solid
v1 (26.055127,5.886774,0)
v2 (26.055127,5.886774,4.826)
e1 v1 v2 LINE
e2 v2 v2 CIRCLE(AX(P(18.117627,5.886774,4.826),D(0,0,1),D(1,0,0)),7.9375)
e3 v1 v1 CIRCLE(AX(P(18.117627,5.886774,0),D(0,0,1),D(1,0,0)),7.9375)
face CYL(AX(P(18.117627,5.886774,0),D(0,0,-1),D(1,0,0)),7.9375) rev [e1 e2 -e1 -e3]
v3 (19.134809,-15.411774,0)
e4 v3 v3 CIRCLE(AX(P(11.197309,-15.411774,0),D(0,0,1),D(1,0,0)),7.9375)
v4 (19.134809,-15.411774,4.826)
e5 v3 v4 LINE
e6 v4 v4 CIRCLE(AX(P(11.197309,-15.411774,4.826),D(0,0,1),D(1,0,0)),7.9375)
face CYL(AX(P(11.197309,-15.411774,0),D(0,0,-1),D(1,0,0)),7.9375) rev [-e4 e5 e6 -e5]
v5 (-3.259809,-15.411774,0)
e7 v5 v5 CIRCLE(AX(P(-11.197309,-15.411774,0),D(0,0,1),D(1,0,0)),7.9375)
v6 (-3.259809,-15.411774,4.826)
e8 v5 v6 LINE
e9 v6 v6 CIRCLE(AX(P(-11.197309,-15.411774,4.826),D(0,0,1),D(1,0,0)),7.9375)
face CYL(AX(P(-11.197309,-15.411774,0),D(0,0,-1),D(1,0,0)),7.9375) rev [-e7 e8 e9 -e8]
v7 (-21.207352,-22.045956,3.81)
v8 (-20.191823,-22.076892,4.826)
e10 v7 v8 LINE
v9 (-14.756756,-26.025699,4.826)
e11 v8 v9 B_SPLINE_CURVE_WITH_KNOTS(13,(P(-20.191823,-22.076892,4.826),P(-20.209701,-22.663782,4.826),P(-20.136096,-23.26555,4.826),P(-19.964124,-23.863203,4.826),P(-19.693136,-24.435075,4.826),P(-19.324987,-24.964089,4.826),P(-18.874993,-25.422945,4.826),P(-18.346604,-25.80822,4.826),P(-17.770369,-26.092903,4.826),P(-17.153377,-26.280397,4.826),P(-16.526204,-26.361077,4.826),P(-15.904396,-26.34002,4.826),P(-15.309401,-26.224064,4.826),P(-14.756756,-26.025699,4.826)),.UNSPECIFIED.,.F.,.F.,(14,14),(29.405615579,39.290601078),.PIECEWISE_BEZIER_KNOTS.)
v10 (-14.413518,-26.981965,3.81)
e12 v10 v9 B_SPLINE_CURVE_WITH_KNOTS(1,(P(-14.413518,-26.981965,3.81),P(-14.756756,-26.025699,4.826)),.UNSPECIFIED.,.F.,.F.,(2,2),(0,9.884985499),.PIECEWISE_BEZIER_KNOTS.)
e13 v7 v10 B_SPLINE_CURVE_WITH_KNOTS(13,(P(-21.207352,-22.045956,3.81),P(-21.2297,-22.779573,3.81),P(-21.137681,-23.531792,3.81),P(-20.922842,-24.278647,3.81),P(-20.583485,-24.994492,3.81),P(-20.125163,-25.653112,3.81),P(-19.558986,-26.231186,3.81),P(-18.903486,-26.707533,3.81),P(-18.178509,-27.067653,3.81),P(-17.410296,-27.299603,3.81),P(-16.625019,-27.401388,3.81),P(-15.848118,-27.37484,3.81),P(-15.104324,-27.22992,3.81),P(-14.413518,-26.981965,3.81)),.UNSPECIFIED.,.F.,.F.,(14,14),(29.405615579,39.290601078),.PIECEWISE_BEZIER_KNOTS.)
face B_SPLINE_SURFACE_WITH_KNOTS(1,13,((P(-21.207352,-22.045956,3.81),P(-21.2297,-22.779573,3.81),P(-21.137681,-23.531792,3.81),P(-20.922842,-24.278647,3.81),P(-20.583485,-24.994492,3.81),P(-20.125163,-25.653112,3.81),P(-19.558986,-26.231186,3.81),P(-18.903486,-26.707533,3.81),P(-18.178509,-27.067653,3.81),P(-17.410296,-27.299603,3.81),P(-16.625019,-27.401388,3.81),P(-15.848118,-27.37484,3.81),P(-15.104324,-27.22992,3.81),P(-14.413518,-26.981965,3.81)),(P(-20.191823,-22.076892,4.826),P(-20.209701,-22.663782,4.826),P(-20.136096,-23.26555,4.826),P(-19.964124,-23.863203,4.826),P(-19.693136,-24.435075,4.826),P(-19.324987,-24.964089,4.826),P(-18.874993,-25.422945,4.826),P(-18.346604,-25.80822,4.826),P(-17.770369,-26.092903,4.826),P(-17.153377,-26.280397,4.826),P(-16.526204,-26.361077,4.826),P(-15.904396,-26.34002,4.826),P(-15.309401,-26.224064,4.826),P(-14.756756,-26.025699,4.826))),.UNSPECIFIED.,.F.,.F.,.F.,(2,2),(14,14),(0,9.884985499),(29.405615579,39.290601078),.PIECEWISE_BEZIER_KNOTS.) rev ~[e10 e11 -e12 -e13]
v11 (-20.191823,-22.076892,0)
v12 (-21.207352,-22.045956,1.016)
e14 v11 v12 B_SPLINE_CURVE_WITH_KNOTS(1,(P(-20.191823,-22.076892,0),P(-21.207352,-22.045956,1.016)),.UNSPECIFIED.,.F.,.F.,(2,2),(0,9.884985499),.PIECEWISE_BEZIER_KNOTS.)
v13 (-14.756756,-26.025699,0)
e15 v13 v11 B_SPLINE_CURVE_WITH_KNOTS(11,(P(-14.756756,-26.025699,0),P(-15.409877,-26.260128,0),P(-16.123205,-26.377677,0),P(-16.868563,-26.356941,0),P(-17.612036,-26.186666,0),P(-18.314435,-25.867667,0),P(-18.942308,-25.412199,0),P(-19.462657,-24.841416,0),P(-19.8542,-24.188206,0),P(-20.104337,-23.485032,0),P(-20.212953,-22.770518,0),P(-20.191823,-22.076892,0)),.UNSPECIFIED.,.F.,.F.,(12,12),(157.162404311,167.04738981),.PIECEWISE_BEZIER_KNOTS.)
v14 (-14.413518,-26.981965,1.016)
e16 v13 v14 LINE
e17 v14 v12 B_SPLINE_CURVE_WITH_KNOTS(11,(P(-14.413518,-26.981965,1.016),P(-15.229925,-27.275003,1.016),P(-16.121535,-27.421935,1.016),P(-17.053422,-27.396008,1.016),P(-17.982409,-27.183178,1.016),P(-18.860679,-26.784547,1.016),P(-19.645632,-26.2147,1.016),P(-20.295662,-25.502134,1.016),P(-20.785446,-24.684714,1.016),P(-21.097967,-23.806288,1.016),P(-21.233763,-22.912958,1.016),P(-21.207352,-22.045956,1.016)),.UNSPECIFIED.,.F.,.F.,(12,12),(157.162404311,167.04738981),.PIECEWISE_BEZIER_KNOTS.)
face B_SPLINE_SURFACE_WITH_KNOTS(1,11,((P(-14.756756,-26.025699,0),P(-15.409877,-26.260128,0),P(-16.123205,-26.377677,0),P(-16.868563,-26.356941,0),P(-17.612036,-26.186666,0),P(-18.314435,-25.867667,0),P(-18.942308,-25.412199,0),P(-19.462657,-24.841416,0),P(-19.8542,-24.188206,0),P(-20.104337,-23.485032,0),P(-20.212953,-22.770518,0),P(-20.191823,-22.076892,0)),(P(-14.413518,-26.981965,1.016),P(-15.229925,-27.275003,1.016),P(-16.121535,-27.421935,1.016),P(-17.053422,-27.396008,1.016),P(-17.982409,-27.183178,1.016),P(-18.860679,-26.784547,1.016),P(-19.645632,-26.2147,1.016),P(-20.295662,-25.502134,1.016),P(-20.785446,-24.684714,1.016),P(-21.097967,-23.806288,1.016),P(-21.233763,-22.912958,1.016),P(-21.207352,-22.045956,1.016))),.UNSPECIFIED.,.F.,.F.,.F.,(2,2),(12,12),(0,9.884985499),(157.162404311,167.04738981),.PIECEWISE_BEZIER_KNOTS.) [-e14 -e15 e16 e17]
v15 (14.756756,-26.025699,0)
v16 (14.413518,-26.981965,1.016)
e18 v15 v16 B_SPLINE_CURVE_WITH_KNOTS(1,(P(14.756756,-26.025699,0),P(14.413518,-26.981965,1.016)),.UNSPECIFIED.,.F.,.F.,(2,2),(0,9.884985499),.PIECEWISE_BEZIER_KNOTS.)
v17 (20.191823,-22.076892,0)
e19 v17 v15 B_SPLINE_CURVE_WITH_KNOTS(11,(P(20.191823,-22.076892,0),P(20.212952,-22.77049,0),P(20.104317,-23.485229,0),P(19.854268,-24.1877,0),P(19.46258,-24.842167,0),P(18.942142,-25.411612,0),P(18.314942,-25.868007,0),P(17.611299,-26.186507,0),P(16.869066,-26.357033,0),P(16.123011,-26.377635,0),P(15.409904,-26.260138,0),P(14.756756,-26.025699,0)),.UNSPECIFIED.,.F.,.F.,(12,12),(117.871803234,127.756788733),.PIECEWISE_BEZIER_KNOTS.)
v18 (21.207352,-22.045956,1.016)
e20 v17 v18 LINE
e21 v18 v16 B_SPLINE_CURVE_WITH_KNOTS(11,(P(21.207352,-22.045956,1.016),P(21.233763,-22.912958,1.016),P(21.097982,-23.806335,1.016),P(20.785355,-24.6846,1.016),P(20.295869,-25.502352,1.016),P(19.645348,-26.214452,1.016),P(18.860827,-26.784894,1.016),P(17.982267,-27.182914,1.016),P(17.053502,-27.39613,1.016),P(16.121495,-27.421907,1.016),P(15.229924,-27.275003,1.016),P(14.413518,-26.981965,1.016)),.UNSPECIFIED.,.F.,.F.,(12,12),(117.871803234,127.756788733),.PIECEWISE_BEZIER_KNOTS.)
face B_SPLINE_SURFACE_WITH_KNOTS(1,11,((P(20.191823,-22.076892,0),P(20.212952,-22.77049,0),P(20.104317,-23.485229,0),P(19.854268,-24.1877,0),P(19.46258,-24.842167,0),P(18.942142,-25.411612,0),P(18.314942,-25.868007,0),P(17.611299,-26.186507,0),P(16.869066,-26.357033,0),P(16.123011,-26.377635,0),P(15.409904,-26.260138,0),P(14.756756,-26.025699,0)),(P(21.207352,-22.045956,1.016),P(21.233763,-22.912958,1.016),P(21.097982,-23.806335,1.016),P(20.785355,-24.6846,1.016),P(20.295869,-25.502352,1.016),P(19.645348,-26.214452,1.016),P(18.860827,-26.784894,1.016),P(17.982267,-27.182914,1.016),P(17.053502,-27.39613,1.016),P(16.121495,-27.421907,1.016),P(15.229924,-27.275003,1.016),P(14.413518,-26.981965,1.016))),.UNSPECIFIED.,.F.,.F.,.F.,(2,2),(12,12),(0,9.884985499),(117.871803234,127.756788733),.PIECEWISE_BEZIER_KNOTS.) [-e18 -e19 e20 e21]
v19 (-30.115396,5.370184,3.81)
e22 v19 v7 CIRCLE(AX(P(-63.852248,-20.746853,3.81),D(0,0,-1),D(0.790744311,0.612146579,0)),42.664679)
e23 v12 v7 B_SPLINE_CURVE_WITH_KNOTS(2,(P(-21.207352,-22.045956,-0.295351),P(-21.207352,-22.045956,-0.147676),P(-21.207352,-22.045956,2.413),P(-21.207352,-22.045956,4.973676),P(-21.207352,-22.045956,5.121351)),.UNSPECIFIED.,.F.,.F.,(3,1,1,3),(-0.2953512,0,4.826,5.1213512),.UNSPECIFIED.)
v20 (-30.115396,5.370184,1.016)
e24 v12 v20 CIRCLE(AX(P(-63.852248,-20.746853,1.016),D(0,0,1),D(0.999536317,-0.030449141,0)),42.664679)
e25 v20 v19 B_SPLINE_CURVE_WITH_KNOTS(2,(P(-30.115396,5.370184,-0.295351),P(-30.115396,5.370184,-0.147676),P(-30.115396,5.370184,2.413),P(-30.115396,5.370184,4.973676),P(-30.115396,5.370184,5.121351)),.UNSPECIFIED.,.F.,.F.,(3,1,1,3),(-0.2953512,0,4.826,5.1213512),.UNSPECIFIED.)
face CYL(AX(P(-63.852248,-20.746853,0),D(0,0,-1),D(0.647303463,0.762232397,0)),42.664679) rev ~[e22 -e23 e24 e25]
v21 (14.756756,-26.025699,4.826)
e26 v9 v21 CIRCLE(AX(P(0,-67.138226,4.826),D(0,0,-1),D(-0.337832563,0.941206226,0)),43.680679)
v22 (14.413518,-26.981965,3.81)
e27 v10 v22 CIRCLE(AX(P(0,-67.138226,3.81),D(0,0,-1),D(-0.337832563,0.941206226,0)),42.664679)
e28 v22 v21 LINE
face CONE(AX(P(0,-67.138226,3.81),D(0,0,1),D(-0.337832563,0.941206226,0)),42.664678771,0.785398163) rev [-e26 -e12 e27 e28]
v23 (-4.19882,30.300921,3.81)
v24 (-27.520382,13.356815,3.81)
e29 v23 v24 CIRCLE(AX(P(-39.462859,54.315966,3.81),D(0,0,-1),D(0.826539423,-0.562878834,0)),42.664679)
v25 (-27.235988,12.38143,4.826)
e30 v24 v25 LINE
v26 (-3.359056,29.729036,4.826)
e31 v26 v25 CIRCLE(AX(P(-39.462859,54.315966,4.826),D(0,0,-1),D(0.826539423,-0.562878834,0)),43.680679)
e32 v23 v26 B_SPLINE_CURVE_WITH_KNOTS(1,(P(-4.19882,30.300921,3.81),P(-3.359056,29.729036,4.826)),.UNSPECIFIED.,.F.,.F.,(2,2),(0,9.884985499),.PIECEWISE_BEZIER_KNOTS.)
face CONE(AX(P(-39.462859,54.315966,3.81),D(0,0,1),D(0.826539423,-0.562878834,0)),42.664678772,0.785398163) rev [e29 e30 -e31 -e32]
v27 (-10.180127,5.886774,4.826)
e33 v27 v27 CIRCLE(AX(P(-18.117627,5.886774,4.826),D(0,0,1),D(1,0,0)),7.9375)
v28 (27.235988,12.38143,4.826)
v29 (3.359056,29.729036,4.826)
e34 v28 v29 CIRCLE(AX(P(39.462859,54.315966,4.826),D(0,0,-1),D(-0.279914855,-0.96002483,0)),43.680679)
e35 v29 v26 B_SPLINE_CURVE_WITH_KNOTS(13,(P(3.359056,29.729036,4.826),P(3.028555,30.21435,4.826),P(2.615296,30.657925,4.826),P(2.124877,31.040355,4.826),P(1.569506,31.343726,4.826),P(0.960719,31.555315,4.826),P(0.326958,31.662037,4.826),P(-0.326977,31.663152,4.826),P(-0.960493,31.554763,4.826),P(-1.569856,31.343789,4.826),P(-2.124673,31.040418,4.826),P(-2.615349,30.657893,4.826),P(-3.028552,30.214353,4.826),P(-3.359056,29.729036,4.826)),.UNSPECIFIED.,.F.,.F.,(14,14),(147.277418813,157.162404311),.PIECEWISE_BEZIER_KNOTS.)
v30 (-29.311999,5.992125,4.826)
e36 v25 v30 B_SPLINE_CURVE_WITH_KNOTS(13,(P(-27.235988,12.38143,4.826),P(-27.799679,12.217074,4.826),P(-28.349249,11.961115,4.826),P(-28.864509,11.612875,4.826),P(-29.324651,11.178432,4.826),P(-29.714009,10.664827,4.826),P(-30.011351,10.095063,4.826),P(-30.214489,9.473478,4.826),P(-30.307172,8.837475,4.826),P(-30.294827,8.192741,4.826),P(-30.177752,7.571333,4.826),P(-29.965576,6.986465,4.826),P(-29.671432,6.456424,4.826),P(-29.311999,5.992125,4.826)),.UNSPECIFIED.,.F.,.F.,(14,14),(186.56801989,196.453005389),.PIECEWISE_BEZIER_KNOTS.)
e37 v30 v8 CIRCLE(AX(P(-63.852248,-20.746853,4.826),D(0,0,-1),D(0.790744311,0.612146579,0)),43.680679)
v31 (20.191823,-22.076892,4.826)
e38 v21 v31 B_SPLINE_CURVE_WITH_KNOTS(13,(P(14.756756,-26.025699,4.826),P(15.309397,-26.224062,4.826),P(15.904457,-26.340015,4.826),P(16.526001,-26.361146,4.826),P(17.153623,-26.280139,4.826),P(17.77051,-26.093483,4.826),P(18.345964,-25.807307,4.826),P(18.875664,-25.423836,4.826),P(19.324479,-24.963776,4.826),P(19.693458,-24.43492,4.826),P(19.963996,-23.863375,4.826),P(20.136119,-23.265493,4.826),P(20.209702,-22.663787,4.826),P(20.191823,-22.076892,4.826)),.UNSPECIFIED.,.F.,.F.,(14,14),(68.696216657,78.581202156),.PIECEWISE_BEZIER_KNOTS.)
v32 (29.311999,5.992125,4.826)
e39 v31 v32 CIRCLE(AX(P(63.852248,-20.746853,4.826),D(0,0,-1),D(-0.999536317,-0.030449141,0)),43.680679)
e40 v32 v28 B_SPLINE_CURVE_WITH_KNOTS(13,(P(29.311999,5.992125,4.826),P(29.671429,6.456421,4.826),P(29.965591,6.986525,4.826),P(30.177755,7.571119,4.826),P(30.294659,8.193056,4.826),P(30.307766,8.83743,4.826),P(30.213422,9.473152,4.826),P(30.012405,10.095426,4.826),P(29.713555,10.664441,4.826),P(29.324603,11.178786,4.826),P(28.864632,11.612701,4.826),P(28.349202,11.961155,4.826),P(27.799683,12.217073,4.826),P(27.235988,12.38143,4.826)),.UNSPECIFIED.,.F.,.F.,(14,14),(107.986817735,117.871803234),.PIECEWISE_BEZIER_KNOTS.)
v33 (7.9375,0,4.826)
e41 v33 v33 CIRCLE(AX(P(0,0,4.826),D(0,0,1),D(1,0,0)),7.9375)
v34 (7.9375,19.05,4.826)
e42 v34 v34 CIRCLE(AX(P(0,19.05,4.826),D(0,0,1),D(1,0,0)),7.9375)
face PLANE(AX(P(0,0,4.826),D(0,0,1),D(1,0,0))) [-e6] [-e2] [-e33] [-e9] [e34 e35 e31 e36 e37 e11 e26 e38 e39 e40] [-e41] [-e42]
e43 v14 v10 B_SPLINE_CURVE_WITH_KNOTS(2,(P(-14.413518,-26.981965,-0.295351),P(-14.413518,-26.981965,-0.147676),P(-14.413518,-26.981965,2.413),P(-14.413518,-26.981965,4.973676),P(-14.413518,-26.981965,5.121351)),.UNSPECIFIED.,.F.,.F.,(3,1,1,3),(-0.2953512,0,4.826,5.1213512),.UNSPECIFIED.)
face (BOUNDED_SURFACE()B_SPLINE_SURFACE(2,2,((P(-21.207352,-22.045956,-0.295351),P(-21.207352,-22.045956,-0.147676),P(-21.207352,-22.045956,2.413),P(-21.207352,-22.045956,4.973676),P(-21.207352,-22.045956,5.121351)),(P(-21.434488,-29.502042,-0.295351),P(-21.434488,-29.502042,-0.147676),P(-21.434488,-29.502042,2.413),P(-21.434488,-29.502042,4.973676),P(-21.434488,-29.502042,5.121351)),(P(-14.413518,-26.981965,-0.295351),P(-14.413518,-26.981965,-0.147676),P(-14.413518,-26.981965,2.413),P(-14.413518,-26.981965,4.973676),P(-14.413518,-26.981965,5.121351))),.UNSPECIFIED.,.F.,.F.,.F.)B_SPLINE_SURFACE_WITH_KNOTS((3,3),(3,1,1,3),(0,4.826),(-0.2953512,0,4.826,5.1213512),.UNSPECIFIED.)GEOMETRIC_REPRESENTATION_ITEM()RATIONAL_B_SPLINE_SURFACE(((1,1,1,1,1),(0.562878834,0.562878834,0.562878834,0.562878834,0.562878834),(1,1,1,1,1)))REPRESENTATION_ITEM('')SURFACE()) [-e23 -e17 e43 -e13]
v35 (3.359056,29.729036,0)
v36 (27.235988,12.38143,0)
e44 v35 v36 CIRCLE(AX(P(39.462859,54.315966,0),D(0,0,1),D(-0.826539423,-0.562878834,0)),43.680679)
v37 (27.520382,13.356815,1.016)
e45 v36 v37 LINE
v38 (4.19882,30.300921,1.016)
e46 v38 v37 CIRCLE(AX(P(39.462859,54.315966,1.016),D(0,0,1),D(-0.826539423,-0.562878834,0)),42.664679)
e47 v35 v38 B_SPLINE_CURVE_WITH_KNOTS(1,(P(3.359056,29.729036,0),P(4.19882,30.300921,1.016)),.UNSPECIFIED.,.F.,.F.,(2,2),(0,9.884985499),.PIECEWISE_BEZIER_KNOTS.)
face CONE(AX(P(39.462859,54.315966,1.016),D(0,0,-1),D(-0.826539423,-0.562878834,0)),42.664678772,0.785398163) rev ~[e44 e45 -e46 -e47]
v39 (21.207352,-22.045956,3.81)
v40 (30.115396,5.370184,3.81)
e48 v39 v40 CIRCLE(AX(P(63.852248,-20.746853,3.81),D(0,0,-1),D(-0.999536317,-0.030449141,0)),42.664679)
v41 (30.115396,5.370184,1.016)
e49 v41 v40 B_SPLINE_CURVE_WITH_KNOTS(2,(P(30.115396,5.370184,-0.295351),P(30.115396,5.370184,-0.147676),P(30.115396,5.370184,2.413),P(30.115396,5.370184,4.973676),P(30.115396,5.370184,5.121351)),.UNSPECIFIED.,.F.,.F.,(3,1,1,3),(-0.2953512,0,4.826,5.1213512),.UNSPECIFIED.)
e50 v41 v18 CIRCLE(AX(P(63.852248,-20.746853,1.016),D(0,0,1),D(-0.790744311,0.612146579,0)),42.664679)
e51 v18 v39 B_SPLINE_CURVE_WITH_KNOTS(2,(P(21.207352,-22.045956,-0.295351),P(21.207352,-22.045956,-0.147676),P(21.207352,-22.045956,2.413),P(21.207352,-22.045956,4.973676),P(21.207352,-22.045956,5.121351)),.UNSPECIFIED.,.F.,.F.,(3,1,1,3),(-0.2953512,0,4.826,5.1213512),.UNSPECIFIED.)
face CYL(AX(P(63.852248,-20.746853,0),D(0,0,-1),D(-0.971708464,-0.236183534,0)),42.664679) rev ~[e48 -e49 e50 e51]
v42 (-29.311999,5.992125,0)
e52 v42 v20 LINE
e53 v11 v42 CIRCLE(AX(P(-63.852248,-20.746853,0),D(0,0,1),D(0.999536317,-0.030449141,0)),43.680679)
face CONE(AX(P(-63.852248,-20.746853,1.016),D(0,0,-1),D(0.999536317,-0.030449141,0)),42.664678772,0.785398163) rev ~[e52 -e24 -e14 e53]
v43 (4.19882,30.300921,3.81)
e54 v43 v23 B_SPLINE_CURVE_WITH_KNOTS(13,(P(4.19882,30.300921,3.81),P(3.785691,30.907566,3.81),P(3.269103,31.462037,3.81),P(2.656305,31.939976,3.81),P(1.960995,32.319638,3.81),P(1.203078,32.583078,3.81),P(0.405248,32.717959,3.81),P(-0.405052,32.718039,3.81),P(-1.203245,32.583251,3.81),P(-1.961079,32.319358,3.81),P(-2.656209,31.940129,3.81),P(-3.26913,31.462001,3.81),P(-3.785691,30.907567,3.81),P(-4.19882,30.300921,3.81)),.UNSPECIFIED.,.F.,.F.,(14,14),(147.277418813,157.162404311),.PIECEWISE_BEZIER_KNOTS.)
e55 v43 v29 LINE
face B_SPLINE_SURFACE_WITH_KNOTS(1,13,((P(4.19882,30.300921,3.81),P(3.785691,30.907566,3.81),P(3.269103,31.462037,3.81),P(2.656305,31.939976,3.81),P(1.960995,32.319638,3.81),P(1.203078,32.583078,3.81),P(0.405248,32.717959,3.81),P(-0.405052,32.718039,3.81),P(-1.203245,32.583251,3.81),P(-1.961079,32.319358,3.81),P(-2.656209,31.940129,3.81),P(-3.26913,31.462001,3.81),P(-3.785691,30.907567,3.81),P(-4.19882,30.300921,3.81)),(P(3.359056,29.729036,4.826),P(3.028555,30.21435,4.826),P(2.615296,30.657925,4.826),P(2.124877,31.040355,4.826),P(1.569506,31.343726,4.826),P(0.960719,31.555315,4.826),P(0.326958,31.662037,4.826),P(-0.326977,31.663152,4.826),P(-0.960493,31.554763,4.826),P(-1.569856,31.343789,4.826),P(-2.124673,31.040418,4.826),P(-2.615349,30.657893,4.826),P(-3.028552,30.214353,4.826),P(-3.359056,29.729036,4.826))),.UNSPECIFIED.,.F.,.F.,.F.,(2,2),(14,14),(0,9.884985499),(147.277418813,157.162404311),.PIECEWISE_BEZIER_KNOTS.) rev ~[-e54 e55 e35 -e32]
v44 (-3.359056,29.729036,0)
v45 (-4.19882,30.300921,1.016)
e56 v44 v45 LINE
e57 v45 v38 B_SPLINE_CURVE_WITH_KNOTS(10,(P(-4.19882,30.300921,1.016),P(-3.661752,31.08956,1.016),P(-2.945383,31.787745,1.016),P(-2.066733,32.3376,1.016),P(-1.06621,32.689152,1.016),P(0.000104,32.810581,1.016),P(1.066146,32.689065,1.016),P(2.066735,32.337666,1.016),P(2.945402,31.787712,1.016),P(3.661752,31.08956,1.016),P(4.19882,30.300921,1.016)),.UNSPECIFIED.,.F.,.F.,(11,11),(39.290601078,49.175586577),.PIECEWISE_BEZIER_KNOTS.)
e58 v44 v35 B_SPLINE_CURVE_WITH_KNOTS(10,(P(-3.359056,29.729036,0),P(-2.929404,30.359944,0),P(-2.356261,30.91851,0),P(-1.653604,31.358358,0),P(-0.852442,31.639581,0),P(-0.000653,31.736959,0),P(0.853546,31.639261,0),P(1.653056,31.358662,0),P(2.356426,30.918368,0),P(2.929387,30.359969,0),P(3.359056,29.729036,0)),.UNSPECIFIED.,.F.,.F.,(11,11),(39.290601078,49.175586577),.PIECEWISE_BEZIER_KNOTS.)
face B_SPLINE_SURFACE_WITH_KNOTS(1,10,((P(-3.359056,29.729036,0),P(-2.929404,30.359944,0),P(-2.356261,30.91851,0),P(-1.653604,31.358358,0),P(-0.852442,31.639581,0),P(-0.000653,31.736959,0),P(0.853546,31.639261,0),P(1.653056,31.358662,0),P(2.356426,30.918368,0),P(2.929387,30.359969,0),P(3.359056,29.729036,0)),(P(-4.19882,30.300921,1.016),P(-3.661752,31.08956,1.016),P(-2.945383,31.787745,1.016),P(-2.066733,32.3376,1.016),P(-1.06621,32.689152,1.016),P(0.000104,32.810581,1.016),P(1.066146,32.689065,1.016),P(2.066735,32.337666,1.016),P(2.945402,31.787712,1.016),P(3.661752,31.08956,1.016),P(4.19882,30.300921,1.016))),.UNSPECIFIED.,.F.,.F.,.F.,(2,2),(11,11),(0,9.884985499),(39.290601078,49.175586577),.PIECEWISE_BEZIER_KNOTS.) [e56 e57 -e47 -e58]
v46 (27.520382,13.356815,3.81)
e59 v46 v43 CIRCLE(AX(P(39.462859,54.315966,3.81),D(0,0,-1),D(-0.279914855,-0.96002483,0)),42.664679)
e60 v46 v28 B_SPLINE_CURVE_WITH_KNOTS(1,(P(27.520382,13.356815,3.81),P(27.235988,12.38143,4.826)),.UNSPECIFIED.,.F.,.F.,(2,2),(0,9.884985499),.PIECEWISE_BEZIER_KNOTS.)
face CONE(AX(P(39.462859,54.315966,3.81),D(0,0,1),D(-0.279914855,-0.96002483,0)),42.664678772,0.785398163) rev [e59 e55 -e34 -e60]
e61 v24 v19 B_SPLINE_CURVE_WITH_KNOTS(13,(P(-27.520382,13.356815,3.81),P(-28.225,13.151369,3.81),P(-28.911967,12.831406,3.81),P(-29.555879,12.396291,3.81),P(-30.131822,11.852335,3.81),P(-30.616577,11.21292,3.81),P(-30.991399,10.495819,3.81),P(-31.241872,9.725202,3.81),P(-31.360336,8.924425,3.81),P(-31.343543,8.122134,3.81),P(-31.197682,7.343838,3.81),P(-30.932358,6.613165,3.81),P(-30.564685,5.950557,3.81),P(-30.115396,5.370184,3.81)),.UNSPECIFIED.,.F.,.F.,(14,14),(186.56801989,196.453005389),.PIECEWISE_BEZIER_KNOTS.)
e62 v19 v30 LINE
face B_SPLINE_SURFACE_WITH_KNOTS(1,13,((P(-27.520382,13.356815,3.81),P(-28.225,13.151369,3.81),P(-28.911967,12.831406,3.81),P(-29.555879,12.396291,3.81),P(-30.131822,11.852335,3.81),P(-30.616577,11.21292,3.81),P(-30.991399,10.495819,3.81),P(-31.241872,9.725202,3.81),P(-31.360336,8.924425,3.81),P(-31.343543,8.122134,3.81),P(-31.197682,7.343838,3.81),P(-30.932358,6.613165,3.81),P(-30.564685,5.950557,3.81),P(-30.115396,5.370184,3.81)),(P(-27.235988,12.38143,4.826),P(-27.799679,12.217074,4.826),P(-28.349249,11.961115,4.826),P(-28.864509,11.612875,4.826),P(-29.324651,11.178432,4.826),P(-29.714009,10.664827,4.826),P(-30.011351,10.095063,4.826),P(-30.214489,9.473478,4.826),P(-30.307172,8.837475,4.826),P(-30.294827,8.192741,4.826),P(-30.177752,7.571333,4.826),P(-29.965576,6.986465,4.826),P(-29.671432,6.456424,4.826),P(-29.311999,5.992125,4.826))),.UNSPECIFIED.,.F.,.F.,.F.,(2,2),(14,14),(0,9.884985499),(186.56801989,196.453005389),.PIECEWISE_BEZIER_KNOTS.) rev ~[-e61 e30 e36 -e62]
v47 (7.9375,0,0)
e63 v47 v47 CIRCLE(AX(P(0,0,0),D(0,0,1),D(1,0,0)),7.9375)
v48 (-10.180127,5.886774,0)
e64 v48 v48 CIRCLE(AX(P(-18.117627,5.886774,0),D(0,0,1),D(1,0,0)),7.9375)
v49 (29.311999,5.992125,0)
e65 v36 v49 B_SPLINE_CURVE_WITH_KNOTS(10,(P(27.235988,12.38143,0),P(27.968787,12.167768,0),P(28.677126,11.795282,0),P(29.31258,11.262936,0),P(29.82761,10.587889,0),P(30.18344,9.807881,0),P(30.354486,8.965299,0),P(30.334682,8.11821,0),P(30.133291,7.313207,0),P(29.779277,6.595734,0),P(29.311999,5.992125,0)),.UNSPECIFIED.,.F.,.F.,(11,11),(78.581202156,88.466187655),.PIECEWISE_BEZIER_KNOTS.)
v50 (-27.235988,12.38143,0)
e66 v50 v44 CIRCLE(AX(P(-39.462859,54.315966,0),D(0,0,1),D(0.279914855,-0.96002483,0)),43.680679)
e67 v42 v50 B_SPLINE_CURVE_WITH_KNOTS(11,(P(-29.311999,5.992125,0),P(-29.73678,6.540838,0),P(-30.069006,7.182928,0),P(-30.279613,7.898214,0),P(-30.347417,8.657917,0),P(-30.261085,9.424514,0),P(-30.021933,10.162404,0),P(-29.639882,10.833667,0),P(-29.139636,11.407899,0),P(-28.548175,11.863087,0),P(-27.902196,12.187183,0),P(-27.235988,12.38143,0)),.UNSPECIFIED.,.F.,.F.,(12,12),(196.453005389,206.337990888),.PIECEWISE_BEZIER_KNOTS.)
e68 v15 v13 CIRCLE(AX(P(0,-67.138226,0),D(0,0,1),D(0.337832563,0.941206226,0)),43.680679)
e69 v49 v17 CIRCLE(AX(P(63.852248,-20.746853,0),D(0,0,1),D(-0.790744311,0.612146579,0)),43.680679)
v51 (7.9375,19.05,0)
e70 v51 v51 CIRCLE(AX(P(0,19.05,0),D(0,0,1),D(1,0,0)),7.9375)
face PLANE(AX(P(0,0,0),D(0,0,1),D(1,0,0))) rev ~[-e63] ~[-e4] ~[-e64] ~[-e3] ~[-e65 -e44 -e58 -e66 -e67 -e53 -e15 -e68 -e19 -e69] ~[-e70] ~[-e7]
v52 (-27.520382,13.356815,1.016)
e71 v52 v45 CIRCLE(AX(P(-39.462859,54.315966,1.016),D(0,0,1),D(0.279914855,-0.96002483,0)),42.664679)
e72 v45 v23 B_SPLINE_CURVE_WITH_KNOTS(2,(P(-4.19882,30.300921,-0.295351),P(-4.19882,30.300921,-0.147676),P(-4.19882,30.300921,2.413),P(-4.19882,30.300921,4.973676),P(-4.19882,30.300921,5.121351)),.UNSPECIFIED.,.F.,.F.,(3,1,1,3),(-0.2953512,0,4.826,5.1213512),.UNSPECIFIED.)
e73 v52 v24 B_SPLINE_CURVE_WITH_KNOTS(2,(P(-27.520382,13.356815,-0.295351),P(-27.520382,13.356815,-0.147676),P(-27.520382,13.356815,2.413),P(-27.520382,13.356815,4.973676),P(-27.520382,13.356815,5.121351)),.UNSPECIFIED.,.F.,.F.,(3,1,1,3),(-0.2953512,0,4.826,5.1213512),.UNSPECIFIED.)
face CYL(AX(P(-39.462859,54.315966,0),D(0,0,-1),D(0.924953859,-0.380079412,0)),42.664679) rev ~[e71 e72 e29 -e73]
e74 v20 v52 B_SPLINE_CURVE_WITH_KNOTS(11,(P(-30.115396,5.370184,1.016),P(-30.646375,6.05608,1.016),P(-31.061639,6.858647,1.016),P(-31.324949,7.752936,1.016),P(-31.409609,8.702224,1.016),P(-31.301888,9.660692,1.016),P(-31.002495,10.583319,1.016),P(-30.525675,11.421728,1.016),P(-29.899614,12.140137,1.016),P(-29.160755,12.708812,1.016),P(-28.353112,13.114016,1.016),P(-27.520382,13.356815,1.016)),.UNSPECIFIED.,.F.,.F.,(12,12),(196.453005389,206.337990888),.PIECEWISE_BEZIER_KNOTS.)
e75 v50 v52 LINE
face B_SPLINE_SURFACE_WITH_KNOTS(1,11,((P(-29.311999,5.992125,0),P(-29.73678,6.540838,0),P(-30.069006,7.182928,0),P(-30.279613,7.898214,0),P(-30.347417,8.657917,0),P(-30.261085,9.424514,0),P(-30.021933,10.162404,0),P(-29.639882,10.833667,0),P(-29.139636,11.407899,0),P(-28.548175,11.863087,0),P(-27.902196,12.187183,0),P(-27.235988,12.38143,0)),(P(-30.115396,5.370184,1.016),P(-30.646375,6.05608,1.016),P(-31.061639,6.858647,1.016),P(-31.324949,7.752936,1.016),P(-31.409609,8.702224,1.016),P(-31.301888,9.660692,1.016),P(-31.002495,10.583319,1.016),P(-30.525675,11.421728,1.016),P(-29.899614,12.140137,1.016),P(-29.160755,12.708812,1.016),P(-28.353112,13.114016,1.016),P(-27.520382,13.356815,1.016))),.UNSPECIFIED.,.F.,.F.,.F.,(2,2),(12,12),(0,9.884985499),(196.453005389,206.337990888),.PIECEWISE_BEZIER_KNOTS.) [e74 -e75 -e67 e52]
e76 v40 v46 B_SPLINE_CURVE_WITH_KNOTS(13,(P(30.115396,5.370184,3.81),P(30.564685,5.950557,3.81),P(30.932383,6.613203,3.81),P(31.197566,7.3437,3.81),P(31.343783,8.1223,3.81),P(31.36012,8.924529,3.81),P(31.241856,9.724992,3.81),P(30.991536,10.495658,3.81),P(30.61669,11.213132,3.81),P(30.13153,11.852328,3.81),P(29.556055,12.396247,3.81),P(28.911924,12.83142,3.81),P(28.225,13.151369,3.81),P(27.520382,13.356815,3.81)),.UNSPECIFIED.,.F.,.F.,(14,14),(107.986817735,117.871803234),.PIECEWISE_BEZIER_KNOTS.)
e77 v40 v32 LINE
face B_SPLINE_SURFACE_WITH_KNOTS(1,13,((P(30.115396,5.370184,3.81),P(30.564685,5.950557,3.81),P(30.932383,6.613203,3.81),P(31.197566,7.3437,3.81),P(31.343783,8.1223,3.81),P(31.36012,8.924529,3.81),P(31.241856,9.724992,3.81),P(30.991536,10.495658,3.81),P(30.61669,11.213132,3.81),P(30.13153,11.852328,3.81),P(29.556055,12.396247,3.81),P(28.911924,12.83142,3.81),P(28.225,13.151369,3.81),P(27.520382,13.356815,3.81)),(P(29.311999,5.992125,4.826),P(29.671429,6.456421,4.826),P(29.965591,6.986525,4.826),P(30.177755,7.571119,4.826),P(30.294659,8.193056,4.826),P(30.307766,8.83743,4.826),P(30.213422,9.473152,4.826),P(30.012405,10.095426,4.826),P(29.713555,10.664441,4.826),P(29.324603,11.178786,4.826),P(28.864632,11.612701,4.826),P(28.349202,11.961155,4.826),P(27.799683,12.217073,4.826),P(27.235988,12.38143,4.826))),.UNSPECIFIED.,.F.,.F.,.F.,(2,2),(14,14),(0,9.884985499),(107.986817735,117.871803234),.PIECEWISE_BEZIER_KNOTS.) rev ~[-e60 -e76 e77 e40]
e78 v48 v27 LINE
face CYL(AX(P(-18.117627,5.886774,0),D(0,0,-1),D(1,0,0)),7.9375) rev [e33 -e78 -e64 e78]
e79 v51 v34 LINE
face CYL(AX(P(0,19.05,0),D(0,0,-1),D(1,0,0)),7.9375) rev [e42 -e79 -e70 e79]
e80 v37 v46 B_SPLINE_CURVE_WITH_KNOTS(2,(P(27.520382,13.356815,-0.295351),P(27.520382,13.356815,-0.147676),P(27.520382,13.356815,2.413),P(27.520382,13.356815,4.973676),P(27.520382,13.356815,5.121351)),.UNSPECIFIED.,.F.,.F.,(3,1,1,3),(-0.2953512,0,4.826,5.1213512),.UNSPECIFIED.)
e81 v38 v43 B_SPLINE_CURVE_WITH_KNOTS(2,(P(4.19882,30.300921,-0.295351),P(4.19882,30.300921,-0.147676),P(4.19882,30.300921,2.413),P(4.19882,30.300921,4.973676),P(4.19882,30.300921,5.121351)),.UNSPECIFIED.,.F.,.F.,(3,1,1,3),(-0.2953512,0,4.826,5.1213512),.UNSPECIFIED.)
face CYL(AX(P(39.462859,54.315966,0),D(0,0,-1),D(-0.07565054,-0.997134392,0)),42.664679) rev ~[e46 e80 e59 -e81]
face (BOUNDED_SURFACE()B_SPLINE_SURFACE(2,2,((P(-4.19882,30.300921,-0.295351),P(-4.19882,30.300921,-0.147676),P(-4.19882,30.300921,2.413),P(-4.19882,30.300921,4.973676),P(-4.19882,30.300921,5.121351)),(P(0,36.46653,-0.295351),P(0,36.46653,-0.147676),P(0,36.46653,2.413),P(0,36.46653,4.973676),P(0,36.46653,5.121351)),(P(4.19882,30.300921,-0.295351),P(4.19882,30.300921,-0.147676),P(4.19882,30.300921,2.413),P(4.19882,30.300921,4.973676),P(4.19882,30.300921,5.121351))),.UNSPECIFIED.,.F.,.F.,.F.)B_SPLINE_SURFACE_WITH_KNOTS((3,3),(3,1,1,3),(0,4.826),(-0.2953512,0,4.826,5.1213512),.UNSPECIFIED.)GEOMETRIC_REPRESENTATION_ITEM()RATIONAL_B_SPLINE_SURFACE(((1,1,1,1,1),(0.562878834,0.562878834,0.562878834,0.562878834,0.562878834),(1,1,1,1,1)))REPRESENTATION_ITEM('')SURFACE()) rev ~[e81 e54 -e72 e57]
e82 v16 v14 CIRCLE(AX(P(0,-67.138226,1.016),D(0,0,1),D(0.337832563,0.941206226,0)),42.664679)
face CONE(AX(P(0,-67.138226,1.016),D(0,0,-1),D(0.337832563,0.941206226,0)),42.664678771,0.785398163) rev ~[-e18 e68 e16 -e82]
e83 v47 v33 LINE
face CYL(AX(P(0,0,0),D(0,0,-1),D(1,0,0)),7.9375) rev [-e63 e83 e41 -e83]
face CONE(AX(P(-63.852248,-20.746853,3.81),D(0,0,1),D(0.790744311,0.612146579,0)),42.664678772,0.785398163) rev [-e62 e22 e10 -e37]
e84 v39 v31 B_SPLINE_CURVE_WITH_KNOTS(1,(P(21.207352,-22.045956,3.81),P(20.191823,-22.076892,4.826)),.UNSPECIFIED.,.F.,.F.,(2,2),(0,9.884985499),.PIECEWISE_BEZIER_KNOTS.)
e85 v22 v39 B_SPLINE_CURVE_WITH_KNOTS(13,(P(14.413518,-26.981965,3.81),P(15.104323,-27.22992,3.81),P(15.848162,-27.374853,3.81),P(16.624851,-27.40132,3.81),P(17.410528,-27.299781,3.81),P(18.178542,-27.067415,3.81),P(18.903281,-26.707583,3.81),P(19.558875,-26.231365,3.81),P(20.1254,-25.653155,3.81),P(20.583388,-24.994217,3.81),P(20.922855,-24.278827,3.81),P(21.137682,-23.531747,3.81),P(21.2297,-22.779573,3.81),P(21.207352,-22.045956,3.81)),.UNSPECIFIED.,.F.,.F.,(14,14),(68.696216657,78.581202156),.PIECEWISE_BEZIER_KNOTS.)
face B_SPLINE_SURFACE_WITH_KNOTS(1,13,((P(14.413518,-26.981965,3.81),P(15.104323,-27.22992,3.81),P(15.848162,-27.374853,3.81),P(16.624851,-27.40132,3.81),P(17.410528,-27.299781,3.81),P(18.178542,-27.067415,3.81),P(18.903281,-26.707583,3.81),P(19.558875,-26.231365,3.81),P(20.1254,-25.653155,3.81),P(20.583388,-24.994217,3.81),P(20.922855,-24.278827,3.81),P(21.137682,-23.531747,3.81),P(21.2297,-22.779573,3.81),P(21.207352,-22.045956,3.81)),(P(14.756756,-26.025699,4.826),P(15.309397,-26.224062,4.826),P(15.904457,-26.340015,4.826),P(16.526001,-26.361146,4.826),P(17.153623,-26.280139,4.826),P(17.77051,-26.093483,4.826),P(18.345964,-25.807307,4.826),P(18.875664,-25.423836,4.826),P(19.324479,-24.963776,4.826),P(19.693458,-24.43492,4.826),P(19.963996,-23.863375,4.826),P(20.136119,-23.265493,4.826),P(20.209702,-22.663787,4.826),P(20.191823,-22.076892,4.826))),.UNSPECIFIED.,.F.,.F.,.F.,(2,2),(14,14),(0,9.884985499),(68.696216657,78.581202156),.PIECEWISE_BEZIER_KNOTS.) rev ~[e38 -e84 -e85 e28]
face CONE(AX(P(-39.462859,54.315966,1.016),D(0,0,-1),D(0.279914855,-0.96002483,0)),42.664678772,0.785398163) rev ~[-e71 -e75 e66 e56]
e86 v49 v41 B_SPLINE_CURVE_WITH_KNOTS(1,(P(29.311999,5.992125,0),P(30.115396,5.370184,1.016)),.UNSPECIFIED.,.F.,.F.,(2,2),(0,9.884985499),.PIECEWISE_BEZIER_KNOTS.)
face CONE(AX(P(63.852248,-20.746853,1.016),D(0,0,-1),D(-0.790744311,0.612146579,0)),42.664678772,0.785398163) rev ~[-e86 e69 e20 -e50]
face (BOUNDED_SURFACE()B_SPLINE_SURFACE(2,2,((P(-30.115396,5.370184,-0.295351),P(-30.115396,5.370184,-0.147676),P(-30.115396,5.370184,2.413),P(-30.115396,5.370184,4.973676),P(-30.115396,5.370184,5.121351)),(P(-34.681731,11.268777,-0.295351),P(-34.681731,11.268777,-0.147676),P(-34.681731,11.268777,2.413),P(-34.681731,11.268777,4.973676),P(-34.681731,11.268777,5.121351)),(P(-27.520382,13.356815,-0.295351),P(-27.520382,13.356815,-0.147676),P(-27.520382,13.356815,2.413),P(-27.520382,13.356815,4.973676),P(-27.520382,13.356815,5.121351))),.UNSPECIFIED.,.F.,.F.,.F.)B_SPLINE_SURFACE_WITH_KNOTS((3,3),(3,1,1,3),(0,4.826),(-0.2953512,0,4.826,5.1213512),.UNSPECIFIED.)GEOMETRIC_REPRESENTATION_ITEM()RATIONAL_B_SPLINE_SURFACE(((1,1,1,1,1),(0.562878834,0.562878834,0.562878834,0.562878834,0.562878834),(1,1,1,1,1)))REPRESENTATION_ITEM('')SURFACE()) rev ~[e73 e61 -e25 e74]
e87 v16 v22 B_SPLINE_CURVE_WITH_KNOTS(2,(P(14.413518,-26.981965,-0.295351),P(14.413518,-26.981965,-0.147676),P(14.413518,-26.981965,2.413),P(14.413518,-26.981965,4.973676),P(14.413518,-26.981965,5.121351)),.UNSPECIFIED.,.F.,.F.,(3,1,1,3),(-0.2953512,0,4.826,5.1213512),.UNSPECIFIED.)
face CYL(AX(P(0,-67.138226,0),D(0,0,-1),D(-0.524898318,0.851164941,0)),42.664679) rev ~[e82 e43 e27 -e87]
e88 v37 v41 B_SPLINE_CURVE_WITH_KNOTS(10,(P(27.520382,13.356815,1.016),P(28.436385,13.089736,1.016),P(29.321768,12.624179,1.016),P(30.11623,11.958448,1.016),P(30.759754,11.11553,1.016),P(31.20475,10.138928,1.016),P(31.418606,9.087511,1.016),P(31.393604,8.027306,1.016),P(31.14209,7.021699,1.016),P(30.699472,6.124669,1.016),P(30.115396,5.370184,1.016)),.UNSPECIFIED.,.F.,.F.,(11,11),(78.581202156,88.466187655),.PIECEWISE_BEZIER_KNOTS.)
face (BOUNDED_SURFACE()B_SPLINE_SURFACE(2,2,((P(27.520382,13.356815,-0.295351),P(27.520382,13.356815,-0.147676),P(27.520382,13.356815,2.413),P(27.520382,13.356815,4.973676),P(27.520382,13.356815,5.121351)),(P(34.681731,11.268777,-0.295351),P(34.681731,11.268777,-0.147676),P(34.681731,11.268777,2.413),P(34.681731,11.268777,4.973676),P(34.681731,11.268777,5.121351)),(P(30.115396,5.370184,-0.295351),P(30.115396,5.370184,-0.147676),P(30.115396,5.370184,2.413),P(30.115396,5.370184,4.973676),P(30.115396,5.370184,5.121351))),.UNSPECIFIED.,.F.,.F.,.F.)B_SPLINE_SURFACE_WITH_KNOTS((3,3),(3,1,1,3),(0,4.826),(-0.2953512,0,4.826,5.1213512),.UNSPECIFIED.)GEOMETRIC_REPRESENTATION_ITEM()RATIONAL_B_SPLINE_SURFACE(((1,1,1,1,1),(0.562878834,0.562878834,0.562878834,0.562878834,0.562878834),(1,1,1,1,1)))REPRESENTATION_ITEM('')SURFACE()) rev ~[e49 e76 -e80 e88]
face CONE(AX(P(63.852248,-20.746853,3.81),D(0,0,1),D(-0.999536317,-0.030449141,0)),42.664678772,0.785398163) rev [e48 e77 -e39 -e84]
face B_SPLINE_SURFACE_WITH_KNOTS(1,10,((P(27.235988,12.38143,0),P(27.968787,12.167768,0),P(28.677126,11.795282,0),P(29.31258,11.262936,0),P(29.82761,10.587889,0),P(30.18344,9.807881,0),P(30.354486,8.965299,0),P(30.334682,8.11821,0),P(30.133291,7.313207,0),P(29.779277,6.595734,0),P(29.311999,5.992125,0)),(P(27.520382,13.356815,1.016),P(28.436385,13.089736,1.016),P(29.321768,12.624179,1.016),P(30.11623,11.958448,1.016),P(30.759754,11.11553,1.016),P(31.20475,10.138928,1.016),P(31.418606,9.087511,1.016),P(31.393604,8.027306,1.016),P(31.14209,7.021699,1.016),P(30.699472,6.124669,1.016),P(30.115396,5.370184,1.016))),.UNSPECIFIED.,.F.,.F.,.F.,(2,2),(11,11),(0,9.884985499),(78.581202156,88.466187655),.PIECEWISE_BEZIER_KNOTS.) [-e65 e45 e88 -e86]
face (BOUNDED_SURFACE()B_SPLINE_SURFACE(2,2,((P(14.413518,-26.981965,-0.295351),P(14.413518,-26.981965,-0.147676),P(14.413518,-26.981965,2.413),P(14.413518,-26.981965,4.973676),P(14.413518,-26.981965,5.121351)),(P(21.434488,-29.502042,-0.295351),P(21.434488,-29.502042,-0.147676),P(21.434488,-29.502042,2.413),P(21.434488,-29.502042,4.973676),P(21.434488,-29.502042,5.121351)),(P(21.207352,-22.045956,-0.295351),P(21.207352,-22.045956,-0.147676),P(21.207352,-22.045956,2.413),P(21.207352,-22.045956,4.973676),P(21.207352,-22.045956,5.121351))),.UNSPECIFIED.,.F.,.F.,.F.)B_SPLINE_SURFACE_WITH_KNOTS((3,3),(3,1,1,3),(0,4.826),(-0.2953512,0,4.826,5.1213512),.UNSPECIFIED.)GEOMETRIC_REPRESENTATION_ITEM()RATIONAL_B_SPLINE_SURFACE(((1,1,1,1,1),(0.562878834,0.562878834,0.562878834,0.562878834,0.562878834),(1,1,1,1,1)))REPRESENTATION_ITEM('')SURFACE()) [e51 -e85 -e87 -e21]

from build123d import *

# Parameters (mm, degrees)
F0_R     = 7.9375
F1_DEPTH = 4.826
F2_R     = 5.08
F3_SIZE  = 1.016


with BuildPart() as f1:
    # F0 (on Top) → F1 (new body)
    with BuildSketch(Plane.XY):
        with BuildLine():
            ThreePointArc((-36.2352532708, 11.7735474857), (-23.2757268131, -7.5627420857), (-22.3946181123, -30.8235474857))
            ThreePointArc((-22.3946181123, -30.8235474857), (0, -24.4735474857), (22.3946181123, -30.8235474857))
            ThreePointArc((22.3946181123, -30.8235474857), (23.2757268131, -7.5627420857), (36.2352532708, 11.7735474857))
            ThreePointArc((36.2352532708, 11.7735474857), (14.3851902834, 19.7995158286), (0, 38.1))
            ThreePointArc((0, 38.1), (-14.3851902834, 19.7995158286), (-36.2352532708, 11.7735474857))
        make_face()
        with Locations((-11.1973090562, -15.4117737428)):
            Circle(F0_R, mode=Mode.SUBTRACT)
        Circle(F0_R, mode=Mode.SUBTRACT)
        with Locations((11.1973090562, -15.4117737428)):
            Circle(F0_R, mode=Mode.SUBTRACT)
        with Locations((-18.1176266354, 5.8867737428)):
            Circle(F0_R, mode=Mode.SUBTRACT)
        with Locations((0, 19.05)):
            Circle(F0_R, mode=Mode.SUBTRACT)
        with Locations((18.1176266354, 5.8867737428)):
            Circle(F0_R, mode=Mode.SUBTRACT)
    extrude(amount=F1_DEPTH)

    # F2
    f2_edges = [f1.edges().sort_by_distance(p)[0] for p in [
        (0, 38.1, 2.413),
        (36.235253, 11.773547, 2.413),
        (22.394618, -30.823547, 2.413),
        (-22.394618, -30.823547, 2.413),
        (-36.235253, 11.773547, 2.413),
    ]]
    fillet(f2_edges, radius=F2_R)

    # F3
    f3_edges = [f1.edges().sort_by_distance(p)[0] for p in [
        (-30.929782, 10.049695, 0),
        (-23.275727, -7.562742, 4.826),
    ]]
    chamfer(f3_edges, length=F3_SIZE)


solid = f1.part
